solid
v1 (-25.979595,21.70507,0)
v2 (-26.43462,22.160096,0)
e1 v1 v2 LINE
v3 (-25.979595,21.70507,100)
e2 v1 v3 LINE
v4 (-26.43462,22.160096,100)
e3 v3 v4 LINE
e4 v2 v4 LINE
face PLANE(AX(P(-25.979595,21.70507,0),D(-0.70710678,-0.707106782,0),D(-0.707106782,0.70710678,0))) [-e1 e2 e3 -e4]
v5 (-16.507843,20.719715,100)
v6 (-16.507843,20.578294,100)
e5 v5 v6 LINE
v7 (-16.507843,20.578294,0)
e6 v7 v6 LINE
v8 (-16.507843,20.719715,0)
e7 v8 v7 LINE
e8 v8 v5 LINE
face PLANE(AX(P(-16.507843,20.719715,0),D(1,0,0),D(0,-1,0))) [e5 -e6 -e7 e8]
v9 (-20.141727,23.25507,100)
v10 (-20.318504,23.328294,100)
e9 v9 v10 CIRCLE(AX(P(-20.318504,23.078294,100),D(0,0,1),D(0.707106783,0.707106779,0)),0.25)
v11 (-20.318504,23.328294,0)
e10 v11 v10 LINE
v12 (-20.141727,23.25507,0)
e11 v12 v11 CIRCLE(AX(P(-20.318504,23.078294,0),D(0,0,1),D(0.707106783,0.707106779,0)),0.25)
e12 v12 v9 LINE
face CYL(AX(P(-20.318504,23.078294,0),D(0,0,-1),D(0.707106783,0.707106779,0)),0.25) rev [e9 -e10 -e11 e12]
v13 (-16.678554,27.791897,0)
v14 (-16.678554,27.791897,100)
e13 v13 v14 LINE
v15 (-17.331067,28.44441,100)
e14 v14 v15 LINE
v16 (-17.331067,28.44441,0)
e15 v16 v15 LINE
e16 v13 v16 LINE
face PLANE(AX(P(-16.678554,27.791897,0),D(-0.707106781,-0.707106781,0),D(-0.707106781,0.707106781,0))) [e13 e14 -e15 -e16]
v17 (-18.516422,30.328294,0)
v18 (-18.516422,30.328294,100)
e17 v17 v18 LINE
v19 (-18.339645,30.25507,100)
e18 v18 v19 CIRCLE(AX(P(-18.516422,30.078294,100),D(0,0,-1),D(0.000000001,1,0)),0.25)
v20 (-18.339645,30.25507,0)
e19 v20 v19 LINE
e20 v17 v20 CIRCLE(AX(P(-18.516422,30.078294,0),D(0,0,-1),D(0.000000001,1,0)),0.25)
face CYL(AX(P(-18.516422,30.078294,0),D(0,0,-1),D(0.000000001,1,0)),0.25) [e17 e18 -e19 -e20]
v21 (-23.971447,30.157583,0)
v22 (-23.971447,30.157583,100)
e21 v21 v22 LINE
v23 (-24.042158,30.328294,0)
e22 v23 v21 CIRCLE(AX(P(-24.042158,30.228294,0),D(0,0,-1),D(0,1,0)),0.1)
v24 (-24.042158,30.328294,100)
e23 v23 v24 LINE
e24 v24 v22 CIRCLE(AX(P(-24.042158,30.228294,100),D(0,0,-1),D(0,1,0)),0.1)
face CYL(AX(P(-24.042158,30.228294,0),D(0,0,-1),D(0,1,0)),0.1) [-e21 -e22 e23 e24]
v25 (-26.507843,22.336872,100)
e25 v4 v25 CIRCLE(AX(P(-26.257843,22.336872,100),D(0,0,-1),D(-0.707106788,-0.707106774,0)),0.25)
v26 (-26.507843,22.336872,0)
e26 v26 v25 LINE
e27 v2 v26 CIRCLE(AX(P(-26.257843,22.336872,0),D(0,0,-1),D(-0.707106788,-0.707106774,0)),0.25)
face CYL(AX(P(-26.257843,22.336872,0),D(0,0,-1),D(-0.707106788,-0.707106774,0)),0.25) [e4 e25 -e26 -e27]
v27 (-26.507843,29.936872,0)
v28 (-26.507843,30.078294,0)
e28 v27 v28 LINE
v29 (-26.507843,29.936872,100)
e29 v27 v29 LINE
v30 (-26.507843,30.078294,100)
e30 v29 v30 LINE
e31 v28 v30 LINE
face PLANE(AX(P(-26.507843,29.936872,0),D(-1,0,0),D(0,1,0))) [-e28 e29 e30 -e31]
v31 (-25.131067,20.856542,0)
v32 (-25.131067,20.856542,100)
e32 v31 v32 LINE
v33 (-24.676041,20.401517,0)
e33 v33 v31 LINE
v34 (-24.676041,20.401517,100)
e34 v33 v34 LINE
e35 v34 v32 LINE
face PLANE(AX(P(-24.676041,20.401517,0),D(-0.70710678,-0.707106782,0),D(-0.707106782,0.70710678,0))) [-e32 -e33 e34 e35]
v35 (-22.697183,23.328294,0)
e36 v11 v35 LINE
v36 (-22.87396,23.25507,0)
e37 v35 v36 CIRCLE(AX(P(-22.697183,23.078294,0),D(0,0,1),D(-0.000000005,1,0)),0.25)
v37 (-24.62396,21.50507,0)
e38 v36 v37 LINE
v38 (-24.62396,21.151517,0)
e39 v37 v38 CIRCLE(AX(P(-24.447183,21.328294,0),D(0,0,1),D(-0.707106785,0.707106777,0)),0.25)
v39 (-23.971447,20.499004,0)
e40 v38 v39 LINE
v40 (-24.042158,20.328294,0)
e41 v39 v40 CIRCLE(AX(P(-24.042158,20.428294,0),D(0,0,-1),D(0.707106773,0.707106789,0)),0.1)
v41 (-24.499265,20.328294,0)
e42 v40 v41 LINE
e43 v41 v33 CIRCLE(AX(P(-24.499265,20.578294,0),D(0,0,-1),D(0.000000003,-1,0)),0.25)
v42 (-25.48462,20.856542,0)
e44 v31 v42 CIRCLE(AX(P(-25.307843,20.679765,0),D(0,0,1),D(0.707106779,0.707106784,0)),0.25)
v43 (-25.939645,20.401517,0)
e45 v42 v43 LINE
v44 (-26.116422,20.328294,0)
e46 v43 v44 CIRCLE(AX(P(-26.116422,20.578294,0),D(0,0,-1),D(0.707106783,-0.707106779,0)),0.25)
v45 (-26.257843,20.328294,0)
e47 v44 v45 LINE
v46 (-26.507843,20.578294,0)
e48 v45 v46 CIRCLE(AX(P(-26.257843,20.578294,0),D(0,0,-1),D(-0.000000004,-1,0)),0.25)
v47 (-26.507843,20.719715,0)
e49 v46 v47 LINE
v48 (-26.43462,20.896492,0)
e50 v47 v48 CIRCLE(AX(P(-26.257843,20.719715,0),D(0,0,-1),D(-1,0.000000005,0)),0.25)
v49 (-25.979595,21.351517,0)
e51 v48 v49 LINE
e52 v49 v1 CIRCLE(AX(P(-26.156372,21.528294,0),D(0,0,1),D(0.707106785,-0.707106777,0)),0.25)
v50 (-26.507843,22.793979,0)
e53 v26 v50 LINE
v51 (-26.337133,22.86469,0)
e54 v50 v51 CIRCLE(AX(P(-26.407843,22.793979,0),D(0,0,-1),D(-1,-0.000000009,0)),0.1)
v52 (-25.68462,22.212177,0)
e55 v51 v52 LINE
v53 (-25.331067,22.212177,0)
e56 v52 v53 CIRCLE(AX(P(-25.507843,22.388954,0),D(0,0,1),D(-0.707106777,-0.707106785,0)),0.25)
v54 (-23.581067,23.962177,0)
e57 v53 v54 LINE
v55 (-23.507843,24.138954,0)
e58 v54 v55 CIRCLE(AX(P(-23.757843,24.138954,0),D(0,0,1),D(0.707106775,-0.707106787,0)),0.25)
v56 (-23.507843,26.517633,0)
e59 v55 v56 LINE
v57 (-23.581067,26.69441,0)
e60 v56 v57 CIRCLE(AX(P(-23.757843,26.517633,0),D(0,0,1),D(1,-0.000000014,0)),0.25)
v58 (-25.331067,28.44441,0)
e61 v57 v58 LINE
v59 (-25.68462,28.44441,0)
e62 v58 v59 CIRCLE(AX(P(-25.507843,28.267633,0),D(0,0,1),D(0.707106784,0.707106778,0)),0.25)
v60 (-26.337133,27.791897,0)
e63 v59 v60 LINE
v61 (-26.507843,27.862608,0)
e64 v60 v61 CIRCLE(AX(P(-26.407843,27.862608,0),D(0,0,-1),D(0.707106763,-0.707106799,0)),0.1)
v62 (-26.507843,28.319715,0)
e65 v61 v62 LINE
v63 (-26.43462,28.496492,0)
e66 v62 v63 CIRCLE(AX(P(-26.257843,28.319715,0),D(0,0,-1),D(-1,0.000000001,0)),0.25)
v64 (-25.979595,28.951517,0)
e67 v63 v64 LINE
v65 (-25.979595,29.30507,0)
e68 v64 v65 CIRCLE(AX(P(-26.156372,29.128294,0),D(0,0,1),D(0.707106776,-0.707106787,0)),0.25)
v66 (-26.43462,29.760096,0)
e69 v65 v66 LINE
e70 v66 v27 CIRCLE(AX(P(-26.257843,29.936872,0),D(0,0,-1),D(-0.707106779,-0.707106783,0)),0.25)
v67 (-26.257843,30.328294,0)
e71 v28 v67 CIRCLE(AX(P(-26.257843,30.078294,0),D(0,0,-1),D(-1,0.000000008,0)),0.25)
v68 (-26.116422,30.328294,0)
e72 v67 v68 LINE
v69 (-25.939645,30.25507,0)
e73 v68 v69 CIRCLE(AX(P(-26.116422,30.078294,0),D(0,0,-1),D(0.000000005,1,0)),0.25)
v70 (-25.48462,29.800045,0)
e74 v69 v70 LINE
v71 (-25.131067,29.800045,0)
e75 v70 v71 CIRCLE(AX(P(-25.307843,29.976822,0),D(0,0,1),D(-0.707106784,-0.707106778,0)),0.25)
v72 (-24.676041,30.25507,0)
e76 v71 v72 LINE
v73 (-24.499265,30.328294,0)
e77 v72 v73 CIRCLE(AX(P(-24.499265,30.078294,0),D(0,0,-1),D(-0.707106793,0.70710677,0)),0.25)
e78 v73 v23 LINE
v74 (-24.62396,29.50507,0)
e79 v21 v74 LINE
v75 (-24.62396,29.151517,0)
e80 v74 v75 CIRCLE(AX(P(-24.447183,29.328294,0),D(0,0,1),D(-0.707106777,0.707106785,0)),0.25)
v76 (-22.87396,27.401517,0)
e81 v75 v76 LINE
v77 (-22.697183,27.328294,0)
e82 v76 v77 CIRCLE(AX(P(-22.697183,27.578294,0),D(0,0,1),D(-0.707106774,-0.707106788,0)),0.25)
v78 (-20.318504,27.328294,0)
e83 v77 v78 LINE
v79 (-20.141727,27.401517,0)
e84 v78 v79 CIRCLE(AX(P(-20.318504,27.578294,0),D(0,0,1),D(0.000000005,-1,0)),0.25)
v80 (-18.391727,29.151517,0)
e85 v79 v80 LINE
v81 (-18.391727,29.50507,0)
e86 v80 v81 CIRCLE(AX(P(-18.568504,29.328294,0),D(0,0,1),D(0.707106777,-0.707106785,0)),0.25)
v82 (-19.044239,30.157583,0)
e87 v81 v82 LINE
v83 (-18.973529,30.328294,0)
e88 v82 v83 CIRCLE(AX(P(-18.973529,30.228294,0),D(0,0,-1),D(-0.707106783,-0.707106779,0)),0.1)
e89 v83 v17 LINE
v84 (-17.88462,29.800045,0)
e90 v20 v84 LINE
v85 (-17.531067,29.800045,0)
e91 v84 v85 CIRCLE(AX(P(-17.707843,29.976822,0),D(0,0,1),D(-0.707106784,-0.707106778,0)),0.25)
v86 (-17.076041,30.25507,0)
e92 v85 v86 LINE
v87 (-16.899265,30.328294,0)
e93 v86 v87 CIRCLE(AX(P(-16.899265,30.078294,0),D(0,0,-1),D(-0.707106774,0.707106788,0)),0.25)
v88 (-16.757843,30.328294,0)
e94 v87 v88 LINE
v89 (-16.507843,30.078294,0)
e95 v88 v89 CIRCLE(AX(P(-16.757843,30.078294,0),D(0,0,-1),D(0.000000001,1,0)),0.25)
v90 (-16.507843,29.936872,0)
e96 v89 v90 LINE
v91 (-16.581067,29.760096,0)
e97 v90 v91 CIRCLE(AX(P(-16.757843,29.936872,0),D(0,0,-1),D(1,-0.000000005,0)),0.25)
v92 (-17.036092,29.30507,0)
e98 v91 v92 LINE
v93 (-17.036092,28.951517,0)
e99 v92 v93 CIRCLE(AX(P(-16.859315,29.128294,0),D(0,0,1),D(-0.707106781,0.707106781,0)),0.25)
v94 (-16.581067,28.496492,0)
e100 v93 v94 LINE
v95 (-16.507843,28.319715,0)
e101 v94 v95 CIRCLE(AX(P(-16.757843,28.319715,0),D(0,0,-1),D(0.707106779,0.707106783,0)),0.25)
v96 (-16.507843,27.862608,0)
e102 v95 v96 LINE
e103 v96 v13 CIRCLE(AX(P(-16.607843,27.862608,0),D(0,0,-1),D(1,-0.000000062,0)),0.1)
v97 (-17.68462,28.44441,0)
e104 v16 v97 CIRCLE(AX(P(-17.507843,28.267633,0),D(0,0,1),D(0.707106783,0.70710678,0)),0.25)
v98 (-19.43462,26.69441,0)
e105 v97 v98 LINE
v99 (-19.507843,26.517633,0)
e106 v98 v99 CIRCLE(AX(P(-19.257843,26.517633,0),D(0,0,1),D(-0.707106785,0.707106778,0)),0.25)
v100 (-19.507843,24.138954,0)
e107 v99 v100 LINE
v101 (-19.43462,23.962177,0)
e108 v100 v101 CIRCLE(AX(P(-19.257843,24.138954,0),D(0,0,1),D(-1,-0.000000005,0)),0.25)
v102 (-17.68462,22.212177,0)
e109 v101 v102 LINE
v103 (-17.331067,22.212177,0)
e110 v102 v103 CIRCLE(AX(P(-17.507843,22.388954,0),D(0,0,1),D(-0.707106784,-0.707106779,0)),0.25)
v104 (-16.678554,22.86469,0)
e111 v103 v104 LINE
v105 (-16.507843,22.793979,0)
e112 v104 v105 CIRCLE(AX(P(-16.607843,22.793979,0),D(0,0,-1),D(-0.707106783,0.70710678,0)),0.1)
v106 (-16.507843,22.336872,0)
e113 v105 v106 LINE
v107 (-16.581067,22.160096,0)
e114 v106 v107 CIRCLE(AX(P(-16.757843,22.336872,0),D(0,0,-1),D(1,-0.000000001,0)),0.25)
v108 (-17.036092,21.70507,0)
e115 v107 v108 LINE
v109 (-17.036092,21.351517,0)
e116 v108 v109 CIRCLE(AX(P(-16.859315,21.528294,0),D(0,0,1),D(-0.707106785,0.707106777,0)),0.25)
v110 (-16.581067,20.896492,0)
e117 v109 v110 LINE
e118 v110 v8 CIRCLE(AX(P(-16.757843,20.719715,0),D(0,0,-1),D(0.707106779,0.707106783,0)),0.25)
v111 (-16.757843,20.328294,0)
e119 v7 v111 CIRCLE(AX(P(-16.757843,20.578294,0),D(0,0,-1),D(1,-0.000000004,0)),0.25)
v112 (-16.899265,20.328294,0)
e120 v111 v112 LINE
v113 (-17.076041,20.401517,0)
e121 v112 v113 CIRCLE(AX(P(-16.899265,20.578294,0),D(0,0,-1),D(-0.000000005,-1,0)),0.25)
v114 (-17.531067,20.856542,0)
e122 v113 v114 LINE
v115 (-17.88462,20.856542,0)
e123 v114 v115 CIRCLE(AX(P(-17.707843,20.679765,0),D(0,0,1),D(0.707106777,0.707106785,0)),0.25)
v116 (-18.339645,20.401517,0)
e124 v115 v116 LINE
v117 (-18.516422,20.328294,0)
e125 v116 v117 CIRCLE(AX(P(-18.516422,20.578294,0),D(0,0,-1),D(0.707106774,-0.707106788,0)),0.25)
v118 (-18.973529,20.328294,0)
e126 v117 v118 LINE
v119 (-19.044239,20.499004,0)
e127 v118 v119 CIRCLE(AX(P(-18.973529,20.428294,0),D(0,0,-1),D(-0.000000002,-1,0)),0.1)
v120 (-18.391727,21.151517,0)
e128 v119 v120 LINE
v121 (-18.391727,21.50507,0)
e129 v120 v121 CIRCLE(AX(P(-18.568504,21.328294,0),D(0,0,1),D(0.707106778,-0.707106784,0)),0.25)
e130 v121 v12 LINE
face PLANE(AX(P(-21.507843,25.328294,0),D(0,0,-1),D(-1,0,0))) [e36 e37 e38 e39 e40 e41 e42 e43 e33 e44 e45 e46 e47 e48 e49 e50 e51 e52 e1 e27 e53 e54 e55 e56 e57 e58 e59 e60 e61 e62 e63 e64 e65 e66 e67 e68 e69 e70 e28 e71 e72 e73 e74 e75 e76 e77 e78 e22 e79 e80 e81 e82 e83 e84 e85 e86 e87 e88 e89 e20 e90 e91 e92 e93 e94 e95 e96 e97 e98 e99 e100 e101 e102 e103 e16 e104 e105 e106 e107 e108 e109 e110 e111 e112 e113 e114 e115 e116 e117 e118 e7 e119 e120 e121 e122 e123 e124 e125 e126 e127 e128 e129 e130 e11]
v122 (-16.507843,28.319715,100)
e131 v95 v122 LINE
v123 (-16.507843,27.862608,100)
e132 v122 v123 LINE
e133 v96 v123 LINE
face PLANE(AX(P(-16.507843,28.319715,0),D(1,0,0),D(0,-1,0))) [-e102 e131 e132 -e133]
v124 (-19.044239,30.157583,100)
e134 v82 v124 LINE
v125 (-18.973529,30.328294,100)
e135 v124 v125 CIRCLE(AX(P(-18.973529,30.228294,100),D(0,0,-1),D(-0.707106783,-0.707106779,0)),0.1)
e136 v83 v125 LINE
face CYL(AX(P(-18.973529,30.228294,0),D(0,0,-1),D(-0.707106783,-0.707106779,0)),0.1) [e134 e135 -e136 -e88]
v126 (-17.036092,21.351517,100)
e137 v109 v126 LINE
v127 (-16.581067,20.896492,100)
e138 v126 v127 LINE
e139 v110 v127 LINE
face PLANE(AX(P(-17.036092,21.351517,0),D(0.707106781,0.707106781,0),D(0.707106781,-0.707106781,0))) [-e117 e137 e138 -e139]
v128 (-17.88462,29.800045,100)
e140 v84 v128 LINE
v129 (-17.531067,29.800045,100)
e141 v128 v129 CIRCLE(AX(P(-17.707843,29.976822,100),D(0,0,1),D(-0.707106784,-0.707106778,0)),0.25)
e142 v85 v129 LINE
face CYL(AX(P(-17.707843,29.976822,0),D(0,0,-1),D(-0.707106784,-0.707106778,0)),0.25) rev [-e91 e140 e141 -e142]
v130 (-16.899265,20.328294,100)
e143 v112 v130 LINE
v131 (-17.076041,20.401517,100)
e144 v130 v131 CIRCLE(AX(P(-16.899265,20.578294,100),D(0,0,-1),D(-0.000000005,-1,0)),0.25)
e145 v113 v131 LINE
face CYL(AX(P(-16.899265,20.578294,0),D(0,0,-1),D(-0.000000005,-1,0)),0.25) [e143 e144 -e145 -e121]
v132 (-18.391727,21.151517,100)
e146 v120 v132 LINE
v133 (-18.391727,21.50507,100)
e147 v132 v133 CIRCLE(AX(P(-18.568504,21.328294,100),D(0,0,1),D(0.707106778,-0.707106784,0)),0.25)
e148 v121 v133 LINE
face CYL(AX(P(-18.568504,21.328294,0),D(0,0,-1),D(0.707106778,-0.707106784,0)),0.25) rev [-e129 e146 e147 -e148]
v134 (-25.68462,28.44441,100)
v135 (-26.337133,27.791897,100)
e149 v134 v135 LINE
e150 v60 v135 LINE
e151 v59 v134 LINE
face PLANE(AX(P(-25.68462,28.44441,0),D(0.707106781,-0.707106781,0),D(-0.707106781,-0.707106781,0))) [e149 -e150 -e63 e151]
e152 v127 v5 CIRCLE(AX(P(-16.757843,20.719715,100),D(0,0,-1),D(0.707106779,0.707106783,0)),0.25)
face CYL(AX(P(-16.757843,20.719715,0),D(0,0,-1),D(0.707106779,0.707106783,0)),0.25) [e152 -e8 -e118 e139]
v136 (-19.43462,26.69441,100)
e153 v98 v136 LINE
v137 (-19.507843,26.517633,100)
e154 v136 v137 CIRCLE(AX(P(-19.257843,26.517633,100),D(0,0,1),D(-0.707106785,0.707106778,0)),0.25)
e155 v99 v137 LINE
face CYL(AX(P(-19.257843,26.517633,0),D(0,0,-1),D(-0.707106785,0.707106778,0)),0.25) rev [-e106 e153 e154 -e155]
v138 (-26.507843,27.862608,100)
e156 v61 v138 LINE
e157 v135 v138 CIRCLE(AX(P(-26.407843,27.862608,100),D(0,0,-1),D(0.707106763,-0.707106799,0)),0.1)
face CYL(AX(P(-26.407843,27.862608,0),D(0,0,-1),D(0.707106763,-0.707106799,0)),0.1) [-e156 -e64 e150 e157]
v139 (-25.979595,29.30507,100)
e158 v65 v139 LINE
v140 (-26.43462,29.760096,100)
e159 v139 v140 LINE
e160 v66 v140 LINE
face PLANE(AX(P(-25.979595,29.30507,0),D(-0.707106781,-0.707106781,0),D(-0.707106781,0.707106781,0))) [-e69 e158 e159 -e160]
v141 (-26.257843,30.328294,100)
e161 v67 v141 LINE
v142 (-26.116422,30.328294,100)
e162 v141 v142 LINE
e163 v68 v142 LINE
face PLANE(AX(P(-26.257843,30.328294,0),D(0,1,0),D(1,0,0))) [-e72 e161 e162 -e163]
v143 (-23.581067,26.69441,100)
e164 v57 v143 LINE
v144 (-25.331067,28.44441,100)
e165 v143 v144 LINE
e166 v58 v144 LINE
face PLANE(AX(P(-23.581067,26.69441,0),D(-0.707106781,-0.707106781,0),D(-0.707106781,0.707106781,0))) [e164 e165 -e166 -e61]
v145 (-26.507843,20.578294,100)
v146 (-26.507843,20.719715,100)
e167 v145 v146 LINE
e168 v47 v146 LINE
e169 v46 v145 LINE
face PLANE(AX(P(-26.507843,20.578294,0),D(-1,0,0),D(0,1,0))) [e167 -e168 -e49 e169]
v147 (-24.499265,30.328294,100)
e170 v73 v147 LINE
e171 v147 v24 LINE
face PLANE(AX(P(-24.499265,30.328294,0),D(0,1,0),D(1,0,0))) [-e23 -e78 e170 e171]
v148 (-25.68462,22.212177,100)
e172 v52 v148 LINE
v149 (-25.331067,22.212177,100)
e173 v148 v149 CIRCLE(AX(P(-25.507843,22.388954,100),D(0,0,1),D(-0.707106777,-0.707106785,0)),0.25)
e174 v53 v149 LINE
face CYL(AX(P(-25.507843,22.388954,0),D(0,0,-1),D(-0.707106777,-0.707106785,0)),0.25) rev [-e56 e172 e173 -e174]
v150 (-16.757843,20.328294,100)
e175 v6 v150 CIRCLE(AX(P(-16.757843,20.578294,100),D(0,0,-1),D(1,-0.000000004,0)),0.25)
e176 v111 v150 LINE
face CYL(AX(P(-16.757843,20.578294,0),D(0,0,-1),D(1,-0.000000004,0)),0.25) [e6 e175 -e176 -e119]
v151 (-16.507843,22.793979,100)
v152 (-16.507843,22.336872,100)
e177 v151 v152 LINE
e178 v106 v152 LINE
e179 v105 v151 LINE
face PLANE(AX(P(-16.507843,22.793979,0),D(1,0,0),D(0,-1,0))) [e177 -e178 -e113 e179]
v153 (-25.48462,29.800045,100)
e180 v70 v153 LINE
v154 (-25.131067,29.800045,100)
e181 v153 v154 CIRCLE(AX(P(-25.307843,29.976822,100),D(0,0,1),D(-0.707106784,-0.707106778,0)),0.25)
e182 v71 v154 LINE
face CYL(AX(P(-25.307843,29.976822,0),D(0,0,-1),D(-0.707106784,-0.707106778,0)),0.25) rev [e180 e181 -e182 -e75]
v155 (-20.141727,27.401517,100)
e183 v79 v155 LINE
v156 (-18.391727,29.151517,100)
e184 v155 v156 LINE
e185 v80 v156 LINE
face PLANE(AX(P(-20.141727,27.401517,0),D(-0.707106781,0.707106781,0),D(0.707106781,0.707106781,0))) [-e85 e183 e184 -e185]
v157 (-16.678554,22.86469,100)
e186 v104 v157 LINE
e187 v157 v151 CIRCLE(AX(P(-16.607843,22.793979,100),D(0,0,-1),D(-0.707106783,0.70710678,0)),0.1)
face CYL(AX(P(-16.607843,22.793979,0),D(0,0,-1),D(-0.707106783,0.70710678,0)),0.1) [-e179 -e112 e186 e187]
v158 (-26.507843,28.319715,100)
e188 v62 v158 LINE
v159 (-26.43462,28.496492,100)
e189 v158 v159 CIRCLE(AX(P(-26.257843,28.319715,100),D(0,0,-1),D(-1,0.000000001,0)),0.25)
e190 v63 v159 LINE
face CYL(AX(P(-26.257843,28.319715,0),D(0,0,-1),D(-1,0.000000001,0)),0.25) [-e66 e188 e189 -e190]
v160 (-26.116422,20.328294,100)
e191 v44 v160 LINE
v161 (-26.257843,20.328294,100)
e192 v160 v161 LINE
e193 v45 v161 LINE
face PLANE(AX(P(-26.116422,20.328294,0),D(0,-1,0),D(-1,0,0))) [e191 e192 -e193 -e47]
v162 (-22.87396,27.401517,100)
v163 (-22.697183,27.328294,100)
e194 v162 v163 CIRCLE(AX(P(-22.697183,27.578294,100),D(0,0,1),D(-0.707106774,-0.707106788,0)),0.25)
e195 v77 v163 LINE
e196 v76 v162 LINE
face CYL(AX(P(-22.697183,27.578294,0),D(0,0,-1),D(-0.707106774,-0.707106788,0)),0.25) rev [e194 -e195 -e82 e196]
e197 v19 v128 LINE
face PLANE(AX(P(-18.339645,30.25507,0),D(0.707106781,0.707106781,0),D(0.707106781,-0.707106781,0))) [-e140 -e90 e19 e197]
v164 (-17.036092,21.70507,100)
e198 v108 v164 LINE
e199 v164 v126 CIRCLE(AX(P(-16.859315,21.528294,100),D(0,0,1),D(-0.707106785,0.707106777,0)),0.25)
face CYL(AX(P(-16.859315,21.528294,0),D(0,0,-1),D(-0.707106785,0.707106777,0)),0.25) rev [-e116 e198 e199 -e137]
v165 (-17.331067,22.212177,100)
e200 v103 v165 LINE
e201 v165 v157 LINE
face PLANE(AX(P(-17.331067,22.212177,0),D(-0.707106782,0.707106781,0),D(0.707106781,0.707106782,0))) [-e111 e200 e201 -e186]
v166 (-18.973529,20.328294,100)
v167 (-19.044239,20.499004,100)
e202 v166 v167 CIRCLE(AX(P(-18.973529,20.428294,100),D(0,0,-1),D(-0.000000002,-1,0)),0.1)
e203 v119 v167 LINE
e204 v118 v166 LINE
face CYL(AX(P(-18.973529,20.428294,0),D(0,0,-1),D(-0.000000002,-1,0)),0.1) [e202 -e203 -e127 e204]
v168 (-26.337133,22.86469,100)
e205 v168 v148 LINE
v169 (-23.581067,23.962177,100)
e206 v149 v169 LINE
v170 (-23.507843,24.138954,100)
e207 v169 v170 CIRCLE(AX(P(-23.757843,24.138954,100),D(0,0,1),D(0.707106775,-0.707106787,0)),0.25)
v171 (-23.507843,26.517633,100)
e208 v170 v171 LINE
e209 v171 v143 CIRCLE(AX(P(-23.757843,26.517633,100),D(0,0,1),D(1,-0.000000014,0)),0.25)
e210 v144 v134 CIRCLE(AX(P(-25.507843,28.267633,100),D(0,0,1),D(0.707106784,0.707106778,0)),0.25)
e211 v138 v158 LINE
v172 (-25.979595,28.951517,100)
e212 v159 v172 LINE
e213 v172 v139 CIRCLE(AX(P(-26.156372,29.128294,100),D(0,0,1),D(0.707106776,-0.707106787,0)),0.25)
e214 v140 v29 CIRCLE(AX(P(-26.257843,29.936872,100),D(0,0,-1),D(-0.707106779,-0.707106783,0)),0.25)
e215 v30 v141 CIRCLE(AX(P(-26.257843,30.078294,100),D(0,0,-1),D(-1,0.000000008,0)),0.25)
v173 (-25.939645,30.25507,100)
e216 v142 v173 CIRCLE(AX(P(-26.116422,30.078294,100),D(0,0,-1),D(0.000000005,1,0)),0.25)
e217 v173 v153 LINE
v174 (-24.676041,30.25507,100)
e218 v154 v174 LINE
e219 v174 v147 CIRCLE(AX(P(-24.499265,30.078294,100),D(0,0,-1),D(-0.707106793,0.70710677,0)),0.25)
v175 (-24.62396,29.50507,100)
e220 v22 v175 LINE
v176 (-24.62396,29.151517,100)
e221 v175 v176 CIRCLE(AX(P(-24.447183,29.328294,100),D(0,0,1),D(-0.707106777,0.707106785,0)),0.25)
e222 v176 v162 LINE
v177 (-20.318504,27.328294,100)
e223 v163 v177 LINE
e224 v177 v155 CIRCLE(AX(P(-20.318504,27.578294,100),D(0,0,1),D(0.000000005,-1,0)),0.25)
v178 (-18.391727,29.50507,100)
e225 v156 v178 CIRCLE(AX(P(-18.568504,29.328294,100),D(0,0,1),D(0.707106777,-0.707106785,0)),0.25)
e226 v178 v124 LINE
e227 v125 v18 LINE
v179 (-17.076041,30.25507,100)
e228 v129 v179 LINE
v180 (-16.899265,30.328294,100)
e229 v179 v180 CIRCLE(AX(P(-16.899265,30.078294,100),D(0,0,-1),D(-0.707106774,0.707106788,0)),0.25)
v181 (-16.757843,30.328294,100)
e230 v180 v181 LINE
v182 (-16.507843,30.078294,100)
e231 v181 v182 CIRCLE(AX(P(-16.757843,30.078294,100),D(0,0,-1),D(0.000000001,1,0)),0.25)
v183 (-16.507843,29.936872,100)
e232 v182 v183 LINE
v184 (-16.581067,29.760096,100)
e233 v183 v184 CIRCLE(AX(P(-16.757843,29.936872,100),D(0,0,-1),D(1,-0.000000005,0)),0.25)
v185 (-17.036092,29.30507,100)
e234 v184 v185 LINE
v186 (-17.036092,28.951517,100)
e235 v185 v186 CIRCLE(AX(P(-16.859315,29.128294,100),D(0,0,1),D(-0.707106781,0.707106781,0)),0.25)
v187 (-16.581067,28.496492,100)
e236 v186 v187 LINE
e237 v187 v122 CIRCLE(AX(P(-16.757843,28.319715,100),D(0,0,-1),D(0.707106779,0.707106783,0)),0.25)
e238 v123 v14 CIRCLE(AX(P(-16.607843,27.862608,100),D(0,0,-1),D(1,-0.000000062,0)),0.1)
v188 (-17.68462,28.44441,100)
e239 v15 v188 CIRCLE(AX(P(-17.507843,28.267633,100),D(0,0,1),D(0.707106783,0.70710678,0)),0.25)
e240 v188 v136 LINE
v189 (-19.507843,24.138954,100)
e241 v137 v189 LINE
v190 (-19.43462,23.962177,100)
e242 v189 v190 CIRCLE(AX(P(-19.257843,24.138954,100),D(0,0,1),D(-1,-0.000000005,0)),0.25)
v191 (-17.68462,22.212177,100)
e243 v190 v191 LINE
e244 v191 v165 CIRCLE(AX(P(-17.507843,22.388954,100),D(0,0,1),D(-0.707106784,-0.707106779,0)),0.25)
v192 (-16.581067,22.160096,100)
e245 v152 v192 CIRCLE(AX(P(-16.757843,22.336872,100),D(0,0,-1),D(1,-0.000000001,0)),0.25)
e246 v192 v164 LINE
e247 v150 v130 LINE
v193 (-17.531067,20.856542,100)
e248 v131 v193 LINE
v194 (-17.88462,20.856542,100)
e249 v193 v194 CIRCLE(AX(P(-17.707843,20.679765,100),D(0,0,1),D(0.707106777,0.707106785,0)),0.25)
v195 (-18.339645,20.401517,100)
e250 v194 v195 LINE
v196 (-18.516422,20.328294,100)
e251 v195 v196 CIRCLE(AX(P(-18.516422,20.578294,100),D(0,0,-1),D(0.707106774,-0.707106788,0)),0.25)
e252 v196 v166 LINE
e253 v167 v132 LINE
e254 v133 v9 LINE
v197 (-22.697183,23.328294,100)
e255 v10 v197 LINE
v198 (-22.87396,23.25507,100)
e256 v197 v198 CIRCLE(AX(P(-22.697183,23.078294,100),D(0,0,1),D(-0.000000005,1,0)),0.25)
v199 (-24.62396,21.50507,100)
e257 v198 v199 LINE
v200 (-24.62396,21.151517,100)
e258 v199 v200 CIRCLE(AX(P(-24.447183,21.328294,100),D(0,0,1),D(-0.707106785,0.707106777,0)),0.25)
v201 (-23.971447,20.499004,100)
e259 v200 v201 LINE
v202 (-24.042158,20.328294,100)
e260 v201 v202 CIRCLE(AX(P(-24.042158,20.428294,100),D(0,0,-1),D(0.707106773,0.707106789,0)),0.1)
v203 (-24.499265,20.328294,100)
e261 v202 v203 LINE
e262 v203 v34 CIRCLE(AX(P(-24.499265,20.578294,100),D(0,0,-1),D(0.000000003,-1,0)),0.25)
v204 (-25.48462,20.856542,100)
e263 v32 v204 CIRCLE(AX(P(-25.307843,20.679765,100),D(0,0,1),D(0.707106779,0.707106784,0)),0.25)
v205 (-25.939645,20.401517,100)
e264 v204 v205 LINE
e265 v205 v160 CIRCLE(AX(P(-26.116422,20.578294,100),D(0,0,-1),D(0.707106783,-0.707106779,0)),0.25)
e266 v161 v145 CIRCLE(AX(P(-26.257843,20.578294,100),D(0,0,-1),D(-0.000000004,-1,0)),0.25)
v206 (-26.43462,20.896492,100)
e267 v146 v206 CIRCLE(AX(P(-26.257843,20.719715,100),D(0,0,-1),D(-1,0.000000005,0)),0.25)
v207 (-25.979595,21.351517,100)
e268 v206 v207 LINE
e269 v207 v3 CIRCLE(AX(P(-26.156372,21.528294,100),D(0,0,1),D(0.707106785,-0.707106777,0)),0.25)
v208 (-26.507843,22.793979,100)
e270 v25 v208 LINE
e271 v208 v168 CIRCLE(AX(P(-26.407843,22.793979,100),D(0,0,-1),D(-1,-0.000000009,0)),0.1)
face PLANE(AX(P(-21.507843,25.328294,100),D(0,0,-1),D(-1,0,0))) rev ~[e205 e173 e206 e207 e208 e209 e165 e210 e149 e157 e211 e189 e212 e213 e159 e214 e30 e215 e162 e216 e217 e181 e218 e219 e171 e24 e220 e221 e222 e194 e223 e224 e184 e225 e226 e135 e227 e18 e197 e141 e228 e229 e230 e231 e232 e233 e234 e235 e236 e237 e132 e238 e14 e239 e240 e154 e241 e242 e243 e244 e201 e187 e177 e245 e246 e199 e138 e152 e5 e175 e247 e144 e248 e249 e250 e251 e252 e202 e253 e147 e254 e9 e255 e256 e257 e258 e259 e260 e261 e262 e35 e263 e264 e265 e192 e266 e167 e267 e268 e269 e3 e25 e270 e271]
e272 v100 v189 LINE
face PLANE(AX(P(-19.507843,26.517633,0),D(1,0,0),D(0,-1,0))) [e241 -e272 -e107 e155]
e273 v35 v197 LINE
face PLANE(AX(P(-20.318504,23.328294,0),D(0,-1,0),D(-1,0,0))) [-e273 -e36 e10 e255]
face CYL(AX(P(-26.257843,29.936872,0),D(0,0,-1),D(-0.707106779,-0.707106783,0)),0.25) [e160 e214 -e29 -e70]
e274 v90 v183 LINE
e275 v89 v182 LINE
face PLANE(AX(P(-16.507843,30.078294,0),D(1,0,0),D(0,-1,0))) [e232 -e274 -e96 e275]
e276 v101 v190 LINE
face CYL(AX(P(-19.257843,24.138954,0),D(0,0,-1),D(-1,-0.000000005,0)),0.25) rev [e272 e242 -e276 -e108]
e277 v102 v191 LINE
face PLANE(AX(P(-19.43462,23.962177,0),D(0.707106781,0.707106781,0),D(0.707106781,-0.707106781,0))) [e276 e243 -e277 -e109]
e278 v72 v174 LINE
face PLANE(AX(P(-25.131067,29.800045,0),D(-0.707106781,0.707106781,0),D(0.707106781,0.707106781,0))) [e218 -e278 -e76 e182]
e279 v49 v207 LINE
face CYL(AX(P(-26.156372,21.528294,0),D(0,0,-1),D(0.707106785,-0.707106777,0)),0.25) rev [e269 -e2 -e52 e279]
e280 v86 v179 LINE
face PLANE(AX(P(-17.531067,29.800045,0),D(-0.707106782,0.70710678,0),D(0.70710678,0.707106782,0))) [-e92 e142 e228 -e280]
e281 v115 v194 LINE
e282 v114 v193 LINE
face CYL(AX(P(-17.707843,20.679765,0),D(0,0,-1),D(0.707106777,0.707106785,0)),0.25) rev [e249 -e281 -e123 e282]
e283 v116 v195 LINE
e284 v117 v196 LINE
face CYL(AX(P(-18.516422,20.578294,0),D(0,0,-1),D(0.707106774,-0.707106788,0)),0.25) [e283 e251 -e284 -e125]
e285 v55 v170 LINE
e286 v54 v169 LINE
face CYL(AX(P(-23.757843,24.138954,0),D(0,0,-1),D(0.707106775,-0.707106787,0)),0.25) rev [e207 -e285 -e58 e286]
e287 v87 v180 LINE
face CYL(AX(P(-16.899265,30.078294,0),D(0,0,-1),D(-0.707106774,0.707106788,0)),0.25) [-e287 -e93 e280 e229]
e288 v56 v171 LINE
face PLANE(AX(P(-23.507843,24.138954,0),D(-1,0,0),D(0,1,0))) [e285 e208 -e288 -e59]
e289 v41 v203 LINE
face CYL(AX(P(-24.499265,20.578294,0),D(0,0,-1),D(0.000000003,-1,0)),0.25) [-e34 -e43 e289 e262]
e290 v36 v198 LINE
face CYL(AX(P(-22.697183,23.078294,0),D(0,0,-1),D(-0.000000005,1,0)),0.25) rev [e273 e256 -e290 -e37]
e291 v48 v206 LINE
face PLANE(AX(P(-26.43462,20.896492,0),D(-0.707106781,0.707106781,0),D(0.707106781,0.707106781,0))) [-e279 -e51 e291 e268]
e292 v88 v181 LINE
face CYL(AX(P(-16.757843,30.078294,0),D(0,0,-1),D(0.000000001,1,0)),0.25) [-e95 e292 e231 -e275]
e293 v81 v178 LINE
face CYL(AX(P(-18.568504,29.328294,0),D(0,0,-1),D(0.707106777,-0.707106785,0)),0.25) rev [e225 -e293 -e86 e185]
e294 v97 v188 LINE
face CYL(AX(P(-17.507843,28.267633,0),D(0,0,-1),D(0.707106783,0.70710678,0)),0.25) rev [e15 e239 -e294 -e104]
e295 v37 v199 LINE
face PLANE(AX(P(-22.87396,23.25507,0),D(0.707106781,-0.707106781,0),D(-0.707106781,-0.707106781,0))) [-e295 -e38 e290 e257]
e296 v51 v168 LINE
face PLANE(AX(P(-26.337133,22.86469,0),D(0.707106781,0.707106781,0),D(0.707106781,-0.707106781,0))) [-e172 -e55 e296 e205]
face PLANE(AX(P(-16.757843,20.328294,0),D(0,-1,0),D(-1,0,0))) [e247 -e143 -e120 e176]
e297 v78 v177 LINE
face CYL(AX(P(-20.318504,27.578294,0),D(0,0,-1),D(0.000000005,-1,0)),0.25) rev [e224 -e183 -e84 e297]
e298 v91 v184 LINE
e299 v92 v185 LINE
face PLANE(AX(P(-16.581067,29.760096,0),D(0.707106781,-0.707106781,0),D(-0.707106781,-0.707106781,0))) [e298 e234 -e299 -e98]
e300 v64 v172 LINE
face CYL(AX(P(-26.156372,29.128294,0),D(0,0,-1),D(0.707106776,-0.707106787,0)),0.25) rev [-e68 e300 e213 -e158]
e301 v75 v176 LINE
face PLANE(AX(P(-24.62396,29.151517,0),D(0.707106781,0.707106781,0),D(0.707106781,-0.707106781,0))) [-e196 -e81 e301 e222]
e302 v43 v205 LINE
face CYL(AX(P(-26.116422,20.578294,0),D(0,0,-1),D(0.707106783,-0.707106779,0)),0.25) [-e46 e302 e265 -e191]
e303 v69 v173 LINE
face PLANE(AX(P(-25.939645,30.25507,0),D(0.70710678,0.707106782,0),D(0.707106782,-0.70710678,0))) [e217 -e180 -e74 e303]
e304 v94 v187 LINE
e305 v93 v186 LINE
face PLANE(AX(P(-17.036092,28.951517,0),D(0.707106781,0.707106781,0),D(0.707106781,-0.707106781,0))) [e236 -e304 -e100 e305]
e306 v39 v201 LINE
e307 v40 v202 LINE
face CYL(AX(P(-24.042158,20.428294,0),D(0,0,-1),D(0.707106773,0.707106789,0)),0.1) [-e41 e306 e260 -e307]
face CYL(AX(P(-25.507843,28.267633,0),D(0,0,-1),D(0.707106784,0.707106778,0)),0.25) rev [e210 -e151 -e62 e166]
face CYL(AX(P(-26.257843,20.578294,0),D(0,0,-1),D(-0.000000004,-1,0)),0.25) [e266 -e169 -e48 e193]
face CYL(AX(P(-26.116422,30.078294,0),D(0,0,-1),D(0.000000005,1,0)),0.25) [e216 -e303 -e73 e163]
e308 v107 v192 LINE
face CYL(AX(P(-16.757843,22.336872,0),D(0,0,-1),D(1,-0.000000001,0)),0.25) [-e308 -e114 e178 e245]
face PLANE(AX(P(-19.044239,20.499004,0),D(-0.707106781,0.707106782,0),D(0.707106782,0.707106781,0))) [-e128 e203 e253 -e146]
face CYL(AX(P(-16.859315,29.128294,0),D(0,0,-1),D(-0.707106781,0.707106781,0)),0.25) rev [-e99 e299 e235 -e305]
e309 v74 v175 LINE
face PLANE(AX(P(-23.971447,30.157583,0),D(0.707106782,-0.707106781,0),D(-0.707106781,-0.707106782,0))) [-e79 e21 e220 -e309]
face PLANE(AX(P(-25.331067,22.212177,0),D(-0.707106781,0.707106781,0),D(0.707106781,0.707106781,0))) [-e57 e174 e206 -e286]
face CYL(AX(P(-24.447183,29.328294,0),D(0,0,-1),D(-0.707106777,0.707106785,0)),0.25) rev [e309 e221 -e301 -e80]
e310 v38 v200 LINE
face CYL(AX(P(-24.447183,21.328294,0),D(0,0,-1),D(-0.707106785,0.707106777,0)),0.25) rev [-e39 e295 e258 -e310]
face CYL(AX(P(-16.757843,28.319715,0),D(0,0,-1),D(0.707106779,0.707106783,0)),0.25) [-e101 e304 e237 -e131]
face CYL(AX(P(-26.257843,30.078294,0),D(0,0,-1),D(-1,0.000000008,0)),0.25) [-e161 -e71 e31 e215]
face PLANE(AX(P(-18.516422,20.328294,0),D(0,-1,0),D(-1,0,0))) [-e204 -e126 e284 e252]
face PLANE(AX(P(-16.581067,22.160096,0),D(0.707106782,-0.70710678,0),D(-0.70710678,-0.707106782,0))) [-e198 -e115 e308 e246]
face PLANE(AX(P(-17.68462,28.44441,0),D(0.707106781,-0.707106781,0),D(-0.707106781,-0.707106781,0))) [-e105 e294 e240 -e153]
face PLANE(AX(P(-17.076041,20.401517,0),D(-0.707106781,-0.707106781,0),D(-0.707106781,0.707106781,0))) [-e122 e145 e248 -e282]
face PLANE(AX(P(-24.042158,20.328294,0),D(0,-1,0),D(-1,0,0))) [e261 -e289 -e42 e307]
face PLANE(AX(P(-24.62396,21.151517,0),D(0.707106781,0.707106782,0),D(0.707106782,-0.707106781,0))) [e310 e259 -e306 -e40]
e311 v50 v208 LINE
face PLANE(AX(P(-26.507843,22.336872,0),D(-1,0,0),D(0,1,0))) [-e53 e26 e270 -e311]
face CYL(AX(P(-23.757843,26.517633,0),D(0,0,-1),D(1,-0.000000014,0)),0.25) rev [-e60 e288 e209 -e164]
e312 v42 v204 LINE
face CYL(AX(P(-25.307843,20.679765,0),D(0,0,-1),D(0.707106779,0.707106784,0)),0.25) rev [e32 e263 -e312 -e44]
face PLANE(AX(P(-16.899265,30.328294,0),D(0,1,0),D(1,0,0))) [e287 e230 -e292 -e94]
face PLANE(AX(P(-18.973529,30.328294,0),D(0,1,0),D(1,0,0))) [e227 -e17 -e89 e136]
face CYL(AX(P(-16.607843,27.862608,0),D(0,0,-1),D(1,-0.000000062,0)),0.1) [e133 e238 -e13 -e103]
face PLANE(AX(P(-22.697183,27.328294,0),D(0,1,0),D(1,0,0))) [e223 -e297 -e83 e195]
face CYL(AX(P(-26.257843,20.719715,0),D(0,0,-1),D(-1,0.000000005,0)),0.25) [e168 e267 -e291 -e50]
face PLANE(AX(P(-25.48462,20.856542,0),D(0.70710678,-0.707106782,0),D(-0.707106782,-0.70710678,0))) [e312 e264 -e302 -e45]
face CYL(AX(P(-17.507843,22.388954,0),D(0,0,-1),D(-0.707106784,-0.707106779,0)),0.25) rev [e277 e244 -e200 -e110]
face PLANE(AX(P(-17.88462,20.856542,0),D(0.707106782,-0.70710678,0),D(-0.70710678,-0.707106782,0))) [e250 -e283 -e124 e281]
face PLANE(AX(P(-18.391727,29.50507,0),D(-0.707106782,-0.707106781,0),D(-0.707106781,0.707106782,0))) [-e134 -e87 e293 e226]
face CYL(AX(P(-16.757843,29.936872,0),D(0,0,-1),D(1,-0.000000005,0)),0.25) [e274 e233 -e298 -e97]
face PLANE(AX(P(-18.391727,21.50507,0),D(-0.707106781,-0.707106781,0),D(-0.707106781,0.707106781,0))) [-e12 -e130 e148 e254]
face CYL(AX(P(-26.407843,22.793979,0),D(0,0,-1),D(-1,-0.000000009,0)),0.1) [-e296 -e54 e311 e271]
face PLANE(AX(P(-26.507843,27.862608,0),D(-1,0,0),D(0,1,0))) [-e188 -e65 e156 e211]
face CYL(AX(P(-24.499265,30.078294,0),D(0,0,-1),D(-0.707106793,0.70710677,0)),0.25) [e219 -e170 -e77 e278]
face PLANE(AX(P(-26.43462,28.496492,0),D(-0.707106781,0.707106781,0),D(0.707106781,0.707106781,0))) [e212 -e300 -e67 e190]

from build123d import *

# Parameters (mm, degrees)
BOSS_EXTRUDE1_DEPTH = 100


with BuildPart() as part:
    # Sketch1 → Boss-Extrude1 (new body)
    with BuildSketch(Plane.XY):
        with BuildLine():
            Line((-26.434620061, 28.496491655), (-25.979594809, 28.951516907))
            ThreePointArc((-25.979594809, 28.951516907), (-25.906371503, 29.128293603), (-25.979594808, 29.305070299))
            Line((-25.979594808, 29.305070299), (-26.43462006, 29.760095551))
            ThreePointArc((-26.43462006, 29.760095551), (-26.488813248, 29.841201388), (-26.507843365, 29.936872247))
            Line((-26.507843365, 29.936872247), (-26.507843365, 30.078293605))
            ThreePointArc((-26.507843365, 30.078293605), (-26.43462006, 30.255070299), (-26.257843366, 30.328293604))
            Line((-26.257843366, 30.328293604), (-26.11642201, 30.328293604))
            ThreePointArc((-26.11642201, 30.328293604), (-26.020751153, 30.309263487), (-25.939645316, 30.255070299))
            Line((-25.939645316, 30.255070299), (-25.484620061, 29.800045045))
            ThreePointArc((-25.484620061, 29.800045045), (-25.307843366, 29.72682174), (-25.131066671, 29.800045045))
            Line((-25.131066671, 29.800045045), (-24.676041418, 30.255070298))
            ThreePointArc((-24.676041418, 30.255070298), (-24.594935581, 30.309263487), (-24.499264722, 30.328293604))
            Line((-24.499264722, 30.328293604), (-24.042157942, 30.328293604))
            ThreePointArc((-24.042157942, 30.328293604), (-23.949769989, 30.266561947), (-23.971447265, 30.157582926))
            Line((-23.971447265, 30.157582926), (-24.623959891, 29.505070299))
            ThreePointArc((-24.623959891, 29.505070299), (-24.697183196, 29.328293604), (-24.623959891, 29.15151691))
            Line((-24.623959891, 29.15151691), (-22.873959891, 27.401516909))
            ThreePointArc((-22.873959891, 27.401516909), (-22.792854054, 27.347323722), (-22.697183196, 27.328293605))
            Line((-22.697183196, 27.328293605), (-20.318503539, 27.328293605))
            ThreePointArc((-20.318503539, 27.328293605), (-20.222832681, 27.347323722), (-20.141726844, 27.401516909))
            Line((-20.141726844, 27.401516909), (-18.391726844, 29.15151691))
            ThreePointArc((-18.391726844, 29.15151691), (-18.318503539, 29.328293604), (-18.391726844, 29.505070299))
            Line((-18.391726844, 29.505070299), (-19.04423947, 30.157582926))
            ThreePointArc((-19.04423947, 30.157582926), (-19.065916745, 30.266561947), (-18.973528793, 30.328293604))
            Line((-18.973528793, 30.328293604), (-18.516422013, 30.328293604))
            ThreePointArc((-18.516422013, 30.328293604), (-18.420751155, 30.309263487), (-18.339645319, 30.2550703))
            Line((-18.339645319, 30.2550703), (-17.884620064, 29.800045045))
            ThreePointArc((-17.884620064, 29.800045045), (-17.707843369, 29.72682174), (-17.531066674, 29.800045045))
            Line((-17.531066674, 29.800045045), (-17.07604142, 30.2550703))
            ThreePointArc((-17.07604142, 30.2550703), (-16.994935583, 30.309263487), (-16.899264725, 30.328293604))
            Line((-16.899264725, 30.328293604), (-16.75784337, 30.328293604))
            ThreePointArc((-16.75784337, 30.328293604), (-16.581066675, 30.255070299), (-16.507843371, 30.078293605))
            Line((-16.507843371, 30.078293605), (-16.507843371, 29.936872247))
            ThreePointArc((-16.507843371, 29.936872247), (-16.526873488, 29.841201389), (-16.581066675, 29.760095552))
            Line((-16.581066675, 29.760095552), (-17.036091927, 29.3050703))
            ThreePointArc((-17.036091927, 29.3050703), (-17.109315232, 29.128293603), (-17.036091926, 28.951516907))
            Line((-17.036091926, 28.951516907), (-16.581066674, 28.496491655))
            ThreePointArc((-16.581066674, 28.496491655), (-16.526873486, 28.415385818), (-16.507843369, 28.31971496))
            Line((-16.507843369, 28.31971496), (-16.507843369, 27.862608178))
            ThreePointArc((-16.507843369, 27.862608178), (-16.569575025, 27.770220231), (-16.678554041, 27.791897499))
            Line((-16.678554041, 27.791897499), (-17.331066668, 28.444410126))
            ThreePointArc((-17.331066668, 28.444410126), (-17.507843364, 28.517633431), (-17.68462006, 28.444410125))
            Line((-17.68462006, 28.444410125), (-19.434620061, 26.694410125))
            ThreePointArc((-19.434620061, 26.694410125), (-19.488813248, 26.613304288), (-19.507843364, 26.51763343))
            Line((-19.507843364, 26.51763343), (-19.507843364, 24.138953775))
            ThreePointArc((-19.507843364, 24.138953775), (-19.488813247, 24.043282917), (-19.434620059, 23.962177079))
            Line((-19.434620059, 23.962177079), (-17.684620059, 22.212177079))
            ThreePointArc((-17.684620059, 22.212177079), (-17.507843363, 22.138953773), (-17.331066666, 22.212177077))
            Line((-17.331066666, 22.212177077), (-16.67855404, 22.864689704))
            ThreePointArc((-16.67855404, 22.864689704), (-16.569575019, 22.886366979), (-16.507843363, 22.793979027))
            Line((-16.507843363, 22.793979027), (-16.507843363, 22.336872245))
            ThreePointArc((-16.507843363, 22.336872245), (-16.52687348, 22.241201387), (-16.581066668, 22.16009555))
            Line((-16.581066668, 22.16009555), (-17.036091921, 21.705070296))
            ThreePointArc((-17.036091921, 21.705070296), (-17.109315225, 21.528293601), (-17.036091921, 21.351516906))
            Line((-17.036091921, 21.351516906), (-16.581066669, 20.896491654))
            ThreePointArc((-16.581066669, 20.896491654), (-16.526873481, 20.815385817), (-16.507843364, 20.719714959))
            Line((-16.507843364, 20.719714959), (-16.507843364, 20.578293601))
            ThreePointArc((-16.507843364, 20.578293601), (-16.581066669, 20.401516906), (-16.757843364, 20.328293601))
            Line((-16.757843364, 20.328293601), (-16.89926472, 20.328293601))
            ThreePointArc((-16.89926472, 20.328293601), (-16.994935578, 20.347323718), (-17.076041415, 20.401516905))
            Line((-17.076041415, 20.401516905), (-17.53106667, 20.85654216))
            ThreePointArc((-17.53106667, 20.85654216), (-17.707843365, 20.929765464), (-17.88462006, 20.85654216))
            Line((-17.88462006, 20.85654216), (-18.339645314, 20.401516905))
            ThreePointArc((-18.339645314, 20.401516905), (-18.420751151, 20.347323718), (-18.516422009, 20.328293601))
            Line((-18.516422009, 20.328293601), (-18.973528789, 20.328293601))
            ThreePointArc((-18.973528789, 20.328293601), (-19.065916743, 20.390025258), (-19.044239468, 20.499004281))
            Line((-19.044239468, 20.499004281), (-18.391726841, 21.151516907))
            ThreePointArc((-18.391726841, 21.151516907), (-18.318503536, 21.328293602), (-18.391726841, 21.505070297))
            Line((-18.391726841, 21.505070297), (-20.141726841, 23.255070297))
            ThreePointArc((-20.141726841, 23.255070297), (-20.222832678, 23.309263485), (-20.318503536, 23.328293602))
            Line((-20.318503536, 23.328293602), (-22.697183193, 23.328293602))
            ThreePointArc((-22.697183193, 23.328293602), (-22.792854051, 23.309263485), (-22.873959889, 23.255070297))
            Line((-22.873959889, 23.255070297), (-24.623959889, 21.505070297))
            ThreePointArc((-24.623959889, 21.505070297), (-24.697183193, 21.328293602), (-24.623959889, 21.151516907))
            Line((-24.623959889, 21.151516907), (-23.971447262, 20.499004281))
            ThreePointArc((-23.971447262, 20.499004281), (-23.949769986, 20.390025258), (-24.042157941, 20.328293601))
            Line((-24.042157941, 20.328293601), (-24.49926472, 20.328293601))
            ThreePointArc((-24.49926472, 20.328293601), (-24.594935579, 20.347323718), (-24.676041417, 20.401516907))
            Line((-24.676041417, 20.401516907), (-25.131066671, 20.85654216))
            ThreePointArc((-25.131066671, 20.85654216), (-25.307843365, 20.929765464), (-25.48462006, 20.85654216))
            Line((-25.48462006, 20.85654216), (-25.939645315, 20.401516906))
            ThreePointArc((-25.939645315, 20.401516906), (-26.020751152, 20.347323718), (-26.11642201, 20.328293601))
            Line((-26.11642201, 20.328293601), (-26.257843366, 20.328293601))
            ThreePointArc((-26.257843366, 20.328293601), (-26.434620061, 20.401516906), (-26.507843366, 20.578293601))
            Line((-26.507843366, 20.578293601), (-26.507843366, 20.719714959))
            ThreePointArc((-26.507843366, 20.719714959), (-26.488813249, 20.815385817), (-26.434620061, 20.896491655))
            Line((-26.434620061, 20.896491655), (-25.979594809, 21.351516907))
            ThreePointArc((-25.979594809, 21.351516907), (-25.906371505, 21.528293602), (-25.979594809, 21.705070297))
            Line((-25.979594809, 21.705070297), (-26.434620063, 22.16009555))
            ThreePointArc((-26.434620063, 22.16009555), (-26.48881325, 22.241201387), (-26.507843367, 22.336872245))
            Line((-26.507843367, 22.336872245), (-26.507843367, 22.793979027))
            ThreePointArc((-26.507843367, 22.793979027), (-26.446111711, 22.88636698), (-26.337132691, 22.864689705))
            Line((-26.337132691, 22.864689705), (-25.684620064, 22.212177078))
            ThreePointArc((-25.684620064, 22.212177078), (-25.507843369, 22.138953774), (-25.331066674, 22.212177078))
            Line((-25.331066674, 22.212177078), (-23.581066674, 23.962177078))
            ThreePointArc((-23.581066674, 23.962177078), (-23.526873485, 24.043282916), (-23.507843368, 24.138953775))
            Line((-23.507843368, 24.138953775), (-23.507843368, 26.51763343))
            ThreePointArc((-23.507843368, 26.51763343), (-23.526873484, 26.613304288), (-23.581066672, 26.694410125))
            Line((-23.581066672, 26.694410125), (-25.331066672, 28.444410125))
            ThreePointArc((-25.331066672, 28.444410125), (-25.507843367, 28.51763343), (-25.684620062, 28.444410125))
            Line((-25.684620062, 28.444410125), (-26.337132689, 27.791897498))
            ThreePointArc((-26.337132689, 27.791897498), (-26.44611171, 27.770220225), (-26.507843366, 27.862608178))
            Line((-26.507843366, 27.862608178), (-26.507843366, 28.31971496))
            ThreePointArc((-26.507843366, 28.31971496), (-26.488813249, 28.415385818), (-26.434620061, 28.496491655))
        make_face()
    extrude(amount=BOSS_EXTRUDE1_DEPTH)


solid = part.part
